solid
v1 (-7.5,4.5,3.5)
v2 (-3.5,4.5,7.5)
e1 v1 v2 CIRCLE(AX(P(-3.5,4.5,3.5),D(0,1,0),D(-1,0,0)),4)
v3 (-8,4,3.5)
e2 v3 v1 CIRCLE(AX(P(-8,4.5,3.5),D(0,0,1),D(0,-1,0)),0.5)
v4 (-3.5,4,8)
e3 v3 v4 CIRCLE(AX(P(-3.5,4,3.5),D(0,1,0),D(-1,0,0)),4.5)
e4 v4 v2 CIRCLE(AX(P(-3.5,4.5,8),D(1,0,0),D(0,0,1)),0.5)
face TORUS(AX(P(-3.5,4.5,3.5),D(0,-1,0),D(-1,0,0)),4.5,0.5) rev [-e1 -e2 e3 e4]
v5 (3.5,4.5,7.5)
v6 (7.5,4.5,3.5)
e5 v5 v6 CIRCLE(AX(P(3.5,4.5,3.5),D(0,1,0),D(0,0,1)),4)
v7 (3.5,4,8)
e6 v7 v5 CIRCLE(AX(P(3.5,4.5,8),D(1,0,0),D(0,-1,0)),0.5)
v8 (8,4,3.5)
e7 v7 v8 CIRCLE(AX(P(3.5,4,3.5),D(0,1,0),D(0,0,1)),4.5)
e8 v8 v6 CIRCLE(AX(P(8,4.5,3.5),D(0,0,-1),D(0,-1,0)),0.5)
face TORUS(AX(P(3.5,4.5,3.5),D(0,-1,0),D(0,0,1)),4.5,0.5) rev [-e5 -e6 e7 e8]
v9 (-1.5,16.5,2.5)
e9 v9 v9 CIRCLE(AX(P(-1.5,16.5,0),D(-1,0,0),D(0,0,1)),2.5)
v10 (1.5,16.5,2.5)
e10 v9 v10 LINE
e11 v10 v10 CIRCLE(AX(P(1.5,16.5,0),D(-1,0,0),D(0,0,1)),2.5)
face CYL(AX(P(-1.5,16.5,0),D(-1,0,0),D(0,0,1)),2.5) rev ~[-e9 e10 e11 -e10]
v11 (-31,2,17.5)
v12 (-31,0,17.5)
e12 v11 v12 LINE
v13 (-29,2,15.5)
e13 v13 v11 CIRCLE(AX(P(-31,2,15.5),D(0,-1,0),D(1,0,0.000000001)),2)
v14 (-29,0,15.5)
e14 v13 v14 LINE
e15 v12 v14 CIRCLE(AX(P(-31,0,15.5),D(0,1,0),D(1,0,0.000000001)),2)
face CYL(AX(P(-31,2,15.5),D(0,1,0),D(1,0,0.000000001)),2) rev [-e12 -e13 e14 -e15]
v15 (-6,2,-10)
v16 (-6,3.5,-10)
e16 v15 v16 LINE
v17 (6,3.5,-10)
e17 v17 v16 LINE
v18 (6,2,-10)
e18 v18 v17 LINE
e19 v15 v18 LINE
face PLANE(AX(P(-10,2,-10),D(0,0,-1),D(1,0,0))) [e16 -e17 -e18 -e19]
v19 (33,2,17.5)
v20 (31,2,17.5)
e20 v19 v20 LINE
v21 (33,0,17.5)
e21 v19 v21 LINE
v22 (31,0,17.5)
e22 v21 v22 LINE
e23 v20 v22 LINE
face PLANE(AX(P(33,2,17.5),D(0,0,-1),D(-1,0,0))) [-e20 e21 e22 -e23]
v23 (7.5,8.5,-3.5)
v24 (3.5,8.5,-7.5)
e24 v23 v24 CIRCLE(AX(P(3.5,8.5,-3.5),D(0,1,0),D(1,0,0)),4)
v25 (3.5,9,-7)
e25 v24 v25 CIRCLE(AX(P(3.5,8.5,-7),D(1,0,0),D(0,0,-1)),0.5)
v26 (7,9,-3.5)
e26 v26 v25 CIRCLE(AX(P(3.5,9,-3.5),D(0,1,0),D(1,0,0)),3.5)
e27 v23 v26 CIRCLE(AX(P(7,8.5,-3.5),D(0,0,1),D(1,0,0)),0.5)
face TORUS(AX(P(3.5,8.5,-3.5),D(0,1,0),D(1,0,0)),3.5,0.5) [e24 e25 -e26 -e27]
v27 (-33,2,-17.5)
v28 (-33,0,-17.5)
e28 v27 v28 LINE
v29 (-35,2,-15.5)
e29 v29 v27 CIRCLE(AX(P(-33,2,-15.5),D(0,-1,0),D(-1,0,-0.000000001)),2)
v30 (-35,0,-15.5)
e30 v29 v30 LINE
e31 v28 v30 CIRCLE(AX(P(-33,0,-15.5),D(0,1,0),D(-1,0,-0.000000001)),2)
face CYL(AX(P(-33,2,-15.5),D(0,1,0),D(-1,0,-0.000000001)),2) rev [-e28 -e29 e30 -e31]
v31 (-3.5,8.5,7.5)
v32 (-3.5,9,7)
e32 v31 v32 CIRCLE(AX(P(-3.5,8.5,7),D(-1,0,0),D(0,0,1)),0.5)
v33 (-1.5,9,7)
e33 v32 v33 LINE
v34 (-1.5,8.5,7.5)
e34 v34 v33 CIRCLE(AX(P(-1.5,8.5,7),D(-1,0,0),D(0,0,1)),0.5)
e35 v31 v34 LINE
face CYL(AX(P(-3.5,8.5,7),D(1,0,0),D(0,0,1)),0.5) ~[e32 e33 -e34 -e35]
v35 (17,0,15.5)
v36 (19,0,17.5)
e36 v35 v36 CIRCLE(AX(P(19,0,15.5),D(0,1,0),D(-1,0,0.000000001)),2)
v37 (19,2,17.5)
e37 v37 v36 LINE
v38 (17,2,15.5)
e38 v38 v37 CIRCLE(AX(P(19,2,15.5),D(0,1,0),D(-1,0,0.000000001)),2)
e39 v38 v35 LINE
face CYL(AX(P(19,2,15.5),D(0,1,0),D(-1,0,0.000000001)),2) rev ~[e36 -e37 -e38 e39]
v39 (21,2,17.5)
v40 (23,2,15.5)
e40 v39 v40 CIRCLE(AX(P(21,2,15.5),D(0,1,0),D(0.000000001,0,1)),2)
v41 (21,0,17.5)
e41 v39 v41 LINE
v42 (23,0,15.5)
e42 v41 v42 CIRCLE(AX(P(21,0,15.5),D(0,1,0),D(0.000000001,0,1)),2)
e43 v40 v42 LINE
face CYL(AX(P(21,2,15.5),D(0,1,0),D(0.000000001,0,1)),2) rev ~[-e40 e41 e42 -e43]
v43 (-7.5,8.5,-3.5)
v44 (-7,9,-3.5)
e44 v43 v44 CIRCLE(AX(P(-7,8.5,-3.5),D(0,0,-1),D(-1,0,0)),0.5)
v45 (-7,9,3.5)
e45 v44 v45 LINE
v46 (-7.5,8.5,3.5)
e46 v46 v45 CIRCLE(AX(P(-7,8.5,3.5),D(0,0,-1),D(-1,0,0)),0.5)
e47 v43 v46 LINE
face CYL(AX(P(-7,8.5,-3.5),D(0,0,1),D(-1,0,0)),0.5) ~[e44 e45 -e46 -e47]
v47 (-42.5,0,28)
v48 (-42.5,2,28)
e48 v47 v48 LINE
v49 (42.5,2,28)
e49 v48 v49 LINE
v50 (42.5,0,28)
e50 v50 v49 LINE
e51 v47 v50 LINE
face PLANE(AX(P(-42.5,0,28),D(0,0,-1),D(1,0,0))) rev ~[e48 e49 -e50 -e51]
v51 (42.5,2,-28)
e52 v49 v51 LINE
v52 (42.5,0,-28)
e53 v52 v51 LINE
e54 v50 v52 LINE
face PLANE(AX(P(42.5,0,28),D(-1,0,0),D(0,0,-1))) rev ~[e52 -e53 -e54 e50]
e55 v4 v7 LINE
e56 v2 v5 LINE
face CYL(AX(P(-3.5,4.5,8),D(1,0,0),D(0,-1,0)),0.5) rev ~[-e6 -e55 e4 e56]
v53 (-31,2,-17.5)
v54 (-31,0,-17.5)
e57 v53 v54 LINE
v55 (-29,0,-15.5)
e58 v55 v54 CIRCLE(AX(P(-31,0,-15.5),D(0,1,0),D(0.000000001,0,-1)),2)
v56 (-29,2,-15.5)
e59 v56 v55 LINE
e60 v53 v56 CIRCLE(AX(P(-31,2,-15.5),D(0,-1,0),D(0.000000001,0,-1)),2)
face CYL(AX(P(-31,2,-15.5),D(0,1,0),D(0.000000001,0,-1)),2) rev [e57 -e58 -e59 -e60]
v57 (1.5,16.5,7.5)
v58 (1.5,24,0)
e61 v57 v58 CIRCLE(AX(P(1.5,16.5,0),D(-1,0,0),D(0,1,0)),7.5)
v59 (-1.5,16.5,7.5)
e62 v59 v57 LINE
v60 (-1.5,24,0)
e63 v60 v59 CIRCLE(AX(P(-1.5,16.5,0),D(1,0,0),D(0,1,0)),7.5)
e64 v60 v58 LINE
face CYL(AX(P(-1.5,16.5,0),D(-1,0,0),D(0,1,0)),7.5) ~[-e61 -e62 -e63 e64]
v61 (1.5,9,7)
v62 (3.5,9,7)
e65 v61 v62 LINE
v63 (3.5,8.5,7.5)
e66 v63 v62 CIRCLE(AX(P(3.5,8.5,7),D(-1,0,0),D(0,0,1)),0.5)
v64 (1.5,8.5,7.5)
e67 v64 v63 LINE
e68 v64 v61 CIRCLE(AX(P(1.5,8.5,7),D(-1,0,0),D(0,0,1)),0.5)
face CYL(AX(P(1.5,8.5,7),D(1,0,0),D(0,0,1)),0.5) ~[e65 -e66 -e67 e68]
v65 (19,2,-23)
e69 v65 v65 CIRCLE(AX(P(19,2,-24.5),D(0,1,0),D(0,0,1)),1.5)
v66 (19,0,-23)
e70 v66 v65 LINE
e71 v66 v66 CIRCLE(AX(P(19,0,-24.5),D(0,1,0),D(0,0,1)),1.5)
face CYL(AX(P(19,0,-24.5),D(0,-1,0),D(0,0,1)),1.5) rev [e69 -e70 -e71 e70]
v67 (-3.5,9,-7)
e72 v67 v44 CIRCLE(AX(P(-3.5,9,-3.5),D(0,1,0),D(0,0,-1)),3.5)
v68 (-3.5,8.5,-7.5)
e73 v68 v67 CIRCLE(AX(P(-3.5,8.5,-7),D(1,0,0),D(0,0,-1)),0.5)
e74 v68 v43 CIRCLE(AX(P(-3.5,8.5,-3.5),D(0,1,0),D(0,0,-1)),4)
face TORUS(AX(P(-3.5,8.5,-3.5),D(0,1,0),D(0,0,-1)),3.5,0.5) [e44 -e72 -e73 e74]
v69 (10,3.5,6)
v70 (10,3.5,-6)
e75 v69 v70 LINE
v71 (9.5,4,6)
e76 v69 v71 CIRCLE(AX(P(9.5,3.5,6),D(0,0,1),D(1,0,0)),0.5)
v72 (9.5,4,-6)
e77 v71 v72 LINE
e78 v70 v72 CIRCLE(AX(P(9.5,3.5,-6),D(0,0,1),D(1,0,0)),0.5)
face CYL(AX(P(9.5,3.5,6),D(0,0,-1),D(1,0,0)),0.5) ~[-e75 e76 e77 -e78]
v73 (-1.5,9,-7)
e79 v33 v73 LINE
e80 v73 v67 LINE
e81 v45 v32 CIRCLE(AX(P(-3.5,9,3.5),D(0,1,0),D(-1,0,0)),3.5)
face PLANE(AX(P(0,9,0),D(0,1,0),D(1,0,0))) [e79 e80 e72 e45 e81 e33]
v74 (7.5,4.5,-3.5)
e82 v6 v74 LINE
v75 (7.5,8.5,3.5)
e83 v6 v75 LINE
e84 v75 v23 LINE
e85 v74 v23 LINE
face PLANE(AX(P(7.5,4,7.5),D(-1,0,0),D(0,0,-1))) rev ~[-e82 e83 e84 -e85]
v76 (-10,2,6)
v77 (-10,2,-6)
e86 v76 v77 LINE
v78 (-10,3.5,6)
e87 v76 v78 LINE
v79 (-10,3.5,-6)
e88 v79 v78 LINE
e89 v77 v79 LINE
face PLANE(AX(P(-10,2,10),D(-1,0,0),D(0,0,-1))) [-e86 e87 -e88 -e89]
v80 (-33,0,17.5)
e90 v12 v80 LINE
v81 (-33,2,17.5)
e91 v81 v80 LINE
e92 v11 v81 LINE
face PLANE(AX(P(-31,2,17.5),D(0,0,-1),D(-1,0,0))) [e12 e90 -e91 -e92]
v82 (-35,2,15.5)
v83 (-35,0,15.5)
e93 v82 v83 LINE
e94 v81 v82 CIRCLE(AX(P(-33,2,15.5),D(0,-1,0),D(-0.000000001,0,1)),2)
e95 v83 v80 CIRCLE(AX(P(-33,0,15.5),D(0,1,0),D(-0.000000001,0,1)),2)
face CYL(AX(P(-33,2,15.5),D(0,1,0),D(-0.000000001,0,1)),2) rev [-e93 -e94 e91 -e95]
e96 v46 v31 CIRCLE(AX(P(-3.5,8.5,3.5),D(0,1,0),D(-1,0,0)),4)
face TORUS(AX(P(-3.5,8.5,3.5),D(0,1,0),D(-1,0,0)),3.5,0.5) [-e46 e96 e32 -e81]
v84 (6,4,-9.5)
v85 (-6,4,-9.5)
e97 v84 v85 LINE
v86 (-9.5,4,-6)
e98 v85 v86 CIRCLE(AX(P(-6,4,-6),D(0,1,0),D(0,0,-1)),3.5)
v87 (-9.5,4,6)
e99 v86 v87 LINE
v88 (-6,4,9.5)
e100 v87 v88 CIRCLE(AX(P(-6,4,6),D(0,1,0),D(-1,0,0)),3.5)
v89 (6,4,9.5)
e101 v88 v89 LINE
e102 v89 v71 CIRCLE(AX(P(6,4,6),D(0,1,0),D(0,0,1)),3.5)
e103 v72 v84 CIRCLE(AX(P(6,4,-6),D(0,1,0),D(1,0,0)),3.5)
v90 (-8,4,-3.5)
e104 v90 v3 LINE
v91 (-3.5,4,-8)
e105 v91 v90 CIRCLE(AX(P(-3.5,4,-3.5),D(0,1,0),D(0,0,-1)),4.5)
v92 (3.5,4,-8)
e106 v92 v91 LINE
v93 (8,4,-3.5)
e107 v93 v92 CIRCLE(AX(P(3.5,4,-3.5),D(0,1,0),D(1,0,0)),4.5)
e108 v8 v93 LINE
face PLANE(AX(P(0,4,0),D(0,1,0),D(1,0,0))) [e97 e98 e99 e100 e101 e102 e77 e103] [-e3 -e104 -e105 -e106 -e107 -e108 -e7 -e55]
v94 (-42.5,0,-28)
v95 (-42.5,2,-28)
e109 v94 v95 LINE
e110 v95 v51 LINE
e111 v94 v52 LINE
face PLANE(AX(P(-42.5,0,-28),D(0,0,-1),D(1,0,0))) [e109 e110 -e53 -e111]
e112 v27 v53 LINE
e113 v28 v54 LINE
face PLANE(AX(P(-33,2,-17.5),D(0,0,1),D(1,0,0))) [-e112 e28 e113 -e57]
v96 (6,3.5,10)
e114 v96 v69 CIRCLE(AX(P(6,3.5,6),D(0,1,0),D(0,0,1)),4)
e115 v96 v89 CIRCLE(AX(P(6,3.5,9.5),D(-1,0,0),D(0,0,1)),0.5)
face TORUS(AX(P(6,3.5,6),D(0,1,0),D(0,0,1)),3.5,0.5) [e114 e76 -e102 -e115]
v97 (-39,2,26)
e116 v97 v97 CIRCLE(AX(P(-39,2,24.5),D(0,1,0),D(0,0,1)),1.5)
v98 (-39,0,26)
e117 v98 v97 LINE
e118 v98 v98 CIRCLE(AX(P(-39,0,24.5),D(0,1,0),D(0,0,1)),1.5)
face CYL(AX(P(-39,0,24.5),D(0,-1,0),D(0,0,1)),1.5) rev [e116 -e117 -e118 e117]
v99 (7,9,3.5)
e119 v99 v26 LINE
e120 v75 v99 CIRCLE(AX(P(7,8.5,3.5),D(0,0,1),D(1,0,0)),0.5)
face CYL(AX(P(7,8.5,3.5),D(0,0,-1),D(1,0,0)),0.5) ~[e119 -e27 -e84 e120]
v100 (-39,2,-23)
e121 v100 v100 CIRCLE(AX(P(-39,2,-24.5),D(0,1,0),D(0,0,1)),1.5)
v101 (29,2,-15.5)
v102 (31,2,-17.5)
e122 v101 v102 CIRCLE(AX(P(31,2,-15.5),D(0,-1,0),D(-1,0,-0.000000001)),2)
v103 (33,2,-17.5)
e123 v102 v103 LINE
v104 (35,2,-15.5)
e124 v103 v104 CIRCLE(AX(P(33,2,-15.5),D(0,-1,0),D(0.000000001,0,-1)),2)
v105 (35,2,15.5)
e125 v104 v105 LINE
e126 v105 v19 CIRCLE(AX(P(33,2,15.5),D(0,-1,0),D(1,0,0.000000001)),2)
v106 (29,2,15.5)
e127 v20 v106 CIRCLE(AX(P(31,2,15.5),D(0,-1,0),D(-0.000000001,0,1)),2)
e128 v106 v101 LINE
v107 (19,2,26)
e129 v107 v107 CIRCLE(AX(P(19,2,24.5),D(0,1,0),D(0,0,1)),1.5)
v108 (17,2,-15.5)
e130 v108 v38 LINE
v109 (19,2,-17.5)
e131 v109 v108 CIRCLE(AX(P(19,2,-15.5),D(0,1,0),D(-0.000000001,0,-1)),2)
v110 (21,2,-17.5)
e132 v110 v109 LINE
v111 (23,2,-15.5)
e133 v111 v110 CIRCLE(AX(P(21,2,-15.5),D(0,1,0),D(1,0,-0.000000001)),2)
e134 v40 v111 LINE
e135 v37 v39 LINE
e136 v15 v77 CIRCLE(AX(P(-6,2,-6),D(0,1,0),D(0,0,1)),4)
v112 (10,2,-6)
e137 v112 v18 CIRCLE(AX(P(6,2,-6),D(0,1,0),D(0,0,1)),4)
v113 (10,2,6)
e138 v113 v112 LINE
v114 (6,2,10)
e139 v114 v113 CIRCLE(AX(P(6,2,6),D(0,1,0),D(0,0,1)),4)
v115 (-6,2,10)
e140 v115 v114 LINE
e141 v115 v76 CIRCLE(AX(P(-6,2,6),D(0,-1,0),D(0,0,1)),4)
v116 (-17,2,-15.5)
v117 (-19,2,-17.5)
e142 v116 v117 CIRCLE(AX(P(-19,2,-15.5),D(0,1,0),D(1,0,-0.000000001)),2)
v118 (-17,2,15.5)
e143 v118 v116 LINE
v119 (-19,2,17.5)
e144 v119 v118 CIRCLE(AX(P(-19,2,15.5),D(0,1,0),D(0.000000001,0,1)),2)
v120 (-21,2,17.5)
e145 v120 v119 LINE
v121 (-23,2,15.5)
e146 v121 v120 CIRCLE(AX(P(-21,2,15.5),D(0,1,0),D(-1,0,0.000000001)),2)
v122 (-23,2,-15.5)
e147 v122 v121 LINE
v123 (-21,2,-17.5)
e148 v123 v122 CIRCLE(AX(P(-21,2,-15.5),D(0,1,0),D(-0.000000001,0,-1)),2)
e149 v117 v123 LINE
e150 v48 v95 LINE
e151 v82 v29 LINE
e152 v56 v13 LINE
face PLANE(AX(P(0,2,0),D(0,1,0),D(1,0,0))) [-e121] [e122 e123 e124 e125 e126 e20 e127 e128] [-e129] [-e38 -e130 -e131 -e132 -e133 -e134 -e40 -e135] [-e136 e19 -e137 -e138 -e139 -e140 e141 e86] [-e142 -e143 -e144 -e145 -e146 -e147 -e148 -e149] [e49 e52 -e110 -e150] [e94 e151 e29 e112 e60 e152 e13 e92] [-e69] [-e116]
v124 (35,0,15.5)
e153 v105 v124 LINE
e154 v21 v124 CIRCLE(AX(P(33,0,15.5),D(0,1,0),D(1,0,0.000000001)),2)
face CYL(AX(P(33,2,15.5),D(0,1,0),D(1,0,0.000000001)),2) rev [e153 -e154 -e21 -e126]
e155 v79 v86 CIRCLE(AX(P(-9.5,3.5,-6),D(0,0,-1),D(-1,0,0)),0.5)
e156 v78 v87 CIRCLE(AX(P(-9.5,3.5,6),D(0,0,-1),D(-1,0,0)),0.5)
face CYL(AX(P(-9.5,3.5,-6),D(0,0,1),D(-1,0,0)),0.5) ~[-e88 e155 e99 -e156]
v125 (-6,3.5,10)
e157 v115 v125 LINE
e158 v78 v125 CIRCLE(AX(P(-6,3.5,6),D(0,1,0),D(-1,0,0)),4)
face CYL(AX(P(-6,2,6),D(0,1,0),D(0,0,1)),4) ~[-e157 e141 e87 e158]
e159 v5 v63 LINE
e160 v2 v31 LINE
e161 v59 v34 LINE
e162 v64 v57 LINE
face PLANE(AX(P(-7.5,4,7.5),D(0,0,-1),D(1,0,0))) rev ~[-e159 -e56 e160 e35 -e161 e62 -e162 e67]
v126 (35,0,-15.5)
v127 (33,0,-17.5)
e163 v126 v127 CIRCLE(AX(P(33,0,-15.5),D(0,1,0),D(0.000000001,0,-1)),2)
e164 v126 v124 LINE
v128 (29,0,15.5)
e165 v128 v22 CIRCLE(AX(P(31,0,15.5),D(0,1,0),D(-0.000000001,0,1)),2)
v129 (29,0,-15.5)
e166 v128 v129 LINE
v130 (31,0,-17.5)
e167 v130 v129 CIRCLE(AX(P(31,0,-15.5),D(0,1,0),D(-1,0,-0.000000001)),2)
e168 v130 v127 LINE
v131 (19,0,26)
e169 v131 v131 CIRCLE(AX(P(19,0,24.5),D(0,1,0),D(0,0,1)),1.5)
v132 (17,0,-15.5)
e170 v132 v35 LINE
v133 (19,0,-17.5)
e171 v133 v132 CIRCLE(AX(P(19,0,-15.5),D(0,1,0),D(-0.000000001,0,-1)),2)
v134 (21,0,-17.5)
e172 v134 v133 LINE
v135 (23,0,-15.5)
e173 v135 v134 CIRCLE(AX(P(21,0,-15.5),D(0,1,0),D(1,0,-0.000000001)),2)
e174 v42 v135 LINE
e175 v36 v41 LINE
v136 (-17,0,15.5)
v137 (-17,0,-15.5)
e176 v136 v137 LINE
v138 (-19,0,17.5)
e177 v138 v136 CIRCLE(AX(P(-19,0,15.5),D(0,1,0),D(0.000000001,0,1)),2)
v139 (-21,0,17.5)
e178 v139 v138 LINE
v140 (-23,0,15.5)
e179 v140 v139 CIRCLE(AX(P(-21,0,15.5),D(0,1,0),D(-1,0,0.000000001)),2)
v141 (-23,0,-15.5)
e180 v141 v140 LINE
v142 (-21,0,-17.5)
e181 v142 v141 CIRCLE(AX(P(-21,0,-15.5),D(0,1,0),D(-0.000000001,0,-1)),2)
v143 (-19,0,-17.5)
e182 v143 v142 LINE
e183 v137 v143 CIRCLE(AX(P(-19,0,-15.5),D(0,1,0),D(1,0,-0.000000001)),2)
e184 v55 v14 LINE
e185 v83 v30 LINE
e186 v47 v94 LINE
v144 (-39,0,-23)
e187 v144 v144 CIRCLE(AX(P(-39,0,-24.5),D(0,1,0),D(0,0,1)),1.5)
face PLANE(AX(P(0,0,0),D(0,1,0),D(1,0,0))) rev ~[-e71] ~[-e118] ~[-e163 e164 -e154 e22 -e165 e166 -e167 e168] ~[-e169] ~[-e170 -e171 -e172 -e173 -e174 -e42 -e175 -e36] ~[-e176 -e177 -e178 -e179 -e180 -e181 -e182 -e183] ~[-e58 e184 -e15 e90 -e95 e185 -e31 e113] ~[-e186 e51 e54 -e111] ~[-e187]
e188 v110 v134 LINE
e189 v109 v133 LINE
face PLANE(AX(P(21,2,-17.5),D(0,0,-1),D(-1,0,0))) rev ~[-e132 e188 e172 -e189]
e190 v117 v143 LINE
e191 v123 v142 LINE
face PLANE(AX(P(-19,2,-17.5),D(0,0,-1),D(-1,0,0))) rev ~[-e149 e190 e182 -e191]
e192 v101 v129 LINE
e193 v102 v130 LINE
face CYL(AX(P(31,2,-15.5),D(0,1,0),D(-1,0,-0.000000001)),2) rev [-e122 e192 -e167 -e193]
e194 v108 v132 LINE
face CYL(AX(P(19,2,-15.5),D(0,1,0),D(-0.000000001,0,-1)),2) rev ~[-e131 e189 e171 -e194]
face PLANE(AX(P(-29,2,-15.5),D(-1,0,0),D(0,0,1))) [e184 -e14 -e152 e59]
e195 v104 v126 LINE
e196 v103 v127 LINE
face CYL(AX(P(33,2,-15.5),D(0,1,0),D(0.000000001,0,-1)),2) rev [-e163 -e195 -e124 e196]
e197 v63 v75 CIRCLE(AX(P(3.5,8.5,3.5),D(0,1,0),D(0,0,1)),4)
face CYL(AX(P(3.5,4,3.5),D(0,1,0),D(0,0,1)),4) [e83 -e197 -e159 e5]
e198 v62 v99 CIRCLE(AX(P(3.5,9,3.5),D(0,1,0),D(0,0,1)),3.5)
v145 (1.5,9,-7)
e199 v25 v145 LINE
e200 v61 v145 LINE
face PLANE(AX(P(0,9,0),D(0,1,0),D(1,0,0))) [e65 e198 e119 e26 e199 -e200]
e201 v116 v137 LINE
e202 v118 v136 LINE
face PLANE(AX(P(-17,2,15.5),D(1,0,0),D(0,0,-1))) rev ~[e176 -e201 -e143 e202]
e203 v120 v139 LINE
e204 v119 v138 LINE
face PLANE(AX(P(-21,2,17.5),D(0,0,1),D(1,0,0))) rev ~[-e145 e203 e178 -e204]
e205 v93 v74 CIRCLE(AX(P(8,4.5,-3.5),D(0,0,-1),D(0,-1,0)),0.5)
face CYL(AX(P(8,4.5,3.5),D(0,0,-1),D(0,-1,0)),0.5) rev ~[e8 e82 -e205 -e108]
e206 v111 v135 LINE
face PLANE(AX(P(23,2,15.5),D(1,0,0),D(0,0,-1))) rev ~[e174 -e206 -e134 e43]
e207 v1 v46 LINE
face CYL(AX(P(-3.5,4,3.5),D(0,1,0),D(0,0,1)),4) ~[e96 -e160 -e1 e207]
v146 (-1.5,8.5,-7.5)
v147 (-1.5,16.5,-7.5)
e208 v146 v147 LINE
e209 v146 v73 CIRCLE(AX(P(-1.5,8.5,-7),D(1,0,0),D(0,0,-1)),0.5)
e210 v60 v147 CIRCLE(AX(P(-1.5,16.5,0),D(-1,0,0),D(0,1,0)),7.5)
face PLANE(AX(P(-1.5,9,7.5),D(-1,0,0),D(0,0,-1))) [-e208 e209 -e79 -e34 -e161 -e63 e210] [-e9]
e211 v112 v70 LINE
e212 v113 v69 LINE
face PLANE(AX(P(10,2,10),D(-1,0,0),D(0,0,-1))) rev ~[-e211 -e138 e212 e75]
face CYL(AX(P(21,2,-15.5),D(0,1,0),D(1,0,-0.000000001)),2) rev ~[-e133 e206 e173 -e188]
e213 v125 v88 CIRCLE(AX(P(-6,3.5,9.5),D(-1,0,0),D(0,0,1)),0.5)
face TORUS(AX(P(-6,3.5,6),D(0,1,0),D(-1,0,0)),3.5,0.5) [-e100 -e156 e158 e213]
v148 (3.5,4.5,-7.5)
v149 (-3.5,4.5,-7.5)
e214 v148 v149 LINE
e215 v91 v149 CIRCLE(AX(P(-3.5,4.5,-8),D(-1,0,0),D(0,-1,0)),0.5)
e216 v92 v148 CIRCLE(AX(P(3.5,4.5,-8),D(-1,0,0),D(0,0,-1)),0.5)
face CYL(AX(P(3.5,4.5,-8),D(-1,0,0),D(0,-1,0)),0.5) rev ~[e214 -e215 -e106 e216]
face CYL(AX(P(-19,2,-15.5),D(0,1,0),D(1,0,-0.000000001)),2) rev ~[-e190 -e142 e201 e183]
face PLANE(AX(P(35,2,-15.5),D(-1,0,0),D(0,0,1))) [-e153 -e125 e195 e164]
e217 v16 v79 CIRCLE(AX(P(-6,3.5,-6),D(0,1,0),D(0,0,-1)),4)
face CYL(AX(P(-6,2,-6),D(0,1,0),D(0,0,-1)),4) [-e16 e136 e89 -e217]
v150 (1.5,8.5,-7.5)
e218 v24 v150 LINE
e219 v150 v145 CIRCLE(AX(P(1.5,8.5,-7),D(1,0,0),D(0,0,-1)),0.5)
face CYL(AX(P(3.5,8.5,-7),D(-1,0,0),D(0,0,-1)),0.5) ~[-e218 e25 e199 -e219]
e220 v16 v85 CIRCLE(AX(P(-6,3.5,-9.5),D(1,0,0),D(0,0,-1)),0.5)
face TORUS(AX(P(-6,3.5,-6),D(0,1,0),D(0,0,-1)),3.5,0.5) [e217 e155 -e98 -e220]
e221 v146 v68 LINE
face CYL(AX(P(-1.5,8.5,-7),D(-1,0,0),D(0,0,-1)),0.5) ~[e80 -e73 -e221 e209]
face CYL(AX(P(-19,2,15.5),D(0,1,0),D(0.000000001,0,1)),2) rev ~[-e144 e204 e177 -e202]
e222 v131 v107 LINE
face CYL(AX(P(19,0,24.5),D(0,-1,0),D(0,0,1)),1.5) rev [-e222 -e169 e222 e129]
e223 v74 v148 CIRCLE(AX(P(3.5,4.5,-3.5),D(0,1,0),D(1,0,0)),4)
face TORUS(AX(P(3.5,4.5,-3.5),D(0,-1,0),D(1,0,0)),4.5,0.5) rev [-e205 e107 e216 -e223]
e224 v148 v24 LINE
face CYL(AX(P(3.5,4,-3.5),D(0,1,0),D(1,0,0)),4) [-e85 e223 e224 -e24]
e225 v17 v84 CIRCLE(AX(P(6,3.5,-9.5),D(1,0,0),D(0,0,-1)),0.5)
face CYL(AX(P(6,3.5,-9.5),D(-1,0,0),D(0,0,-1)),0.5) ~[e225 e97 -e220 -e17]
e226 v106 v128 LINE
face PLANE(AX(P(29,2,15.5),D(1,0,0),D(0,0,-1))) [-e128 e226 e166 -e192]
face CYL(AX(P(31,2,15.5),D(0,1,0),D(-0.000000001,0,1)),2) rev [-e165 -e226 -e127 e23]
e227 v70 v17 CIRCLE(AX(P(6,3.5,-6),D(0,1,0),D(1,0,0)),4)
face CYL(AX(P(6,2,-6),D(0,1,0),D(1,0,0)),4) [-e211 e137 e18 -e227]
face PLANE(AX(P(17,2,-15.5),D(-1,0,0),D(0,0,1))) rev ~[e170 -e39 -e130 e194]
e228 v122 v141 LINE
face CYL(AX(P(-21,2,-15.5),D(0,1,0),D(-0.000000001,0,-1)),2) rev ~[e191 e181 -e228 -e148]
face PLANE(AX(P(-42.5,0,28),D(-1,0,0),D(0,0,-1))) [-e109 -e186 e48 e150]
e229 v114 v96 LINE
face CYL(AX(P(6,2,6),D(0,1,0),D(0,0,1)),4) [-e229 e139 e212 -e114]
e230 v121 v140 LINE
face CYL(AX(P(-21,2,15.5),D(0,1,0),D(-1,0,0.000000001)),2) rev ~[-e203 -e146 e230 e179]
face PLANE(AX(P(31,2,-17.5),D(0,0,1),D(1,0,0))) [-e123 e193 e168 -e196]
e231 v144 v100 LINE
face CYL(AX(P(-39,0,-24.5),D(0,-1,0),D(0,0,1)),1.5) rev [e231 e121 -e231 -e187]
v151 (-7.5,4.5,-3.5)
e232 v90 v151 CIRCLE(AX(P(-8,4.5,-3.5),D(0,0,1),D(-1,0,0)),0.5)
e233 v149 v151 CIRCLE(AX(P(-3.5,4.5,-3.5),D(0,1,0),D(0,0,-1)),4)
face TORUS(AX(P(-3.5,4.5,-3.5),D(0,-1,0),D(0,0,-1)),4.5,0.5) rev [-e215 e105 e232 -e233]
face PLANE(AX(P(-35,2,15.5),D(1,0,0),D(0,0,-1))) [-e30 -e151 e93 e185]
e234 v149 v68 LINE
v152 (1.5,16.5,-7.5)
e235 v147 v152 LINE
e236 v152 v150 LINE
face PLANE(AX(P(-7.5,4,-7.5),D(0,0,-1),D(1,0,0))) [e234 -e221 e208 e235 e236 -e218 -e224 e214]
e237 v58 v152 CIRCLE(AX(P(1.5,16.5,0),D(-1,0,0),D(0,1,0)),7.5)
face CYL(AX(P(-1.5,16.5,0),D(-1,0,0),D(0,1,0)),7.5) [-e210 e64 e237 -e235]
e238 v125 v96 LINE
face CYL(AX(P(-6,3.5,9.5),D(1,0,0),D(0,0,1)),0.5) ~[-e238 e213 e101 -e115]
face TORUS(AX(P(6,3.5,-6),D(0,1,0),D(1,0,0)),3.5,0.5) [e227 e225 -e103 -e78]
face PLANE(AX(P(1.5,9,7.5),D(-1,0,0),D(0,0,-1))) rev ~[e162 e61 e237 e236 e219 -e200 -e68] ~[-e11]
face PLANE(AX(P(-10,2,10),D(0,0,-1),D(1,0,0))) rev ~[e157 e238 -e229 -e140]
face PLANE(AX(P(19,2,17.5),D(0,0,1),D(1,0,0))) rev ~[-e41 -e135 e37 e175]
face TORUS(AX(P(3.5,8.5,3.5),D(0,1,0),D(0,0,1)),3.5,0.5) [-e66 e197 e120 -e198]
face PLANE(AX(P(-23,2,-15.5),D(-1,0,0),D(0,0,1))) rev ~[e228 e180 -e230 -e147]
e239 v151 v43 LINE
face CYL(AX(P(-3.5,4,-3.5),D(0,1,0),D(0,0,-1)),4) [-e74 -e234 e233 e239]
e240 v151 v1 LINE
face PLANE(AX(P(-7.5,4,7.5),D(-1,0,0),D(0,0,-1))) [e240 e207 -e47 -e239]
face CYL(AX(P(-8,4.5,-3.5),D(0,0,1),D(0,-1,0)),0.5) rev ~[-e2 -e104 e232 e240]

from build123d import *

# Parameters (mm, degrees)
SKETCH1_W           = 85
SKETCH1_H           = 56
BOSS_EXTRUDE1_DEPTH = 2
SKETCH2_R           = 1.5
CUT_EXTRUDE2_DEPTH  = 2
SKETCH3_W           = 20
SKETCH3_H           = 20
BOSS_EXTRUDE2_DEPTH = 2
SKETCH4_W           = 15
SKETCH4_H           = 15
BOSS_EXTRUDE3_DEPTH = 5
SKETCH5_W           = 3
SKETCH5_H           = 15
BOSS_EXTRUDE4_DEPTH = 15
CUT_EXTRUDE3_DEPTH  = 15
CUT_EXTRUDE4_DEPTH  = 15
SKETCH9_R           = 2.5
CUT_EXTRUDE5_DEPTH  = 15
FILLET1_R           = 4
FILLET2_R           = 0.5
FILLET3_R           = 0.5
CUT_EXTRUDE6_DEPTH  = 15


with BuildPart() as part:
    # Sketch1 → Boss-Extrude1 (new body)
    with BuildSketch(Plane(origin=(0, 0, 0), x_dir=(1, 0, 0), z_dir=(0, 1, 0))):
        Rectangle(SKETCH1_W, SKETCH1_H)
    extrude(amount=BOSS_EXTRUDE1_DEPTH)

    # Sketch2 → Cut-Extrude2 (cut)
    with BuildSketch(Plane(origin=(0, 0, 0), x_dir=(1, 0, 0), z_dir=(0, 1, 0))):
        with Locations(Location((-39, -24.5, 0), (0, 0, 270))):
            Circle(SKETCH2_R)
        with Locations(Location((-39, 24.5, 0), (0, 0, 270))):
            Circle(SKETCH2_R)
        with Locations(Location((19, 24.5, 0), (0, 0, 270))):
            Circle(SKETCH2_R)
        with Locations(Location((19, -24.5, 0), (0, 0, 270))):
            Circle(SKETCH2_R)
    extrude(amount=CUT_EXTRUDE2_DEPTH, mode=Mode.SUBTRACT)

    # Sketch3 → Boss-Extrude2 (add)
    with BuildSketch(Plane(origin=(0, 2, 0), x_dir=(1, 0, 0), z_dir=(0, 1, 0))):
        Rectangle(SKETCH3_W, SKETCH3_H)
    extrude(amount=BOSS_EXTRUDE2_DEPTH)

    # Sketch4 → Boss-Extrude3 (add)
    with BuildSketch(Plane(origin=(0, 4, 0), x_dir=(1, 0, 0), z_dir=(0, 1, 0))):
        Rectangle(SKETCH4_W, SKETCH4_H)
    extrude(amount=BOSS_EXTRUDE3_DEPTH)

    # Sketch5 → Boss-Extrude4 (add)
    with BuildSketch(Plane(origin=(0, 9, 0), x_dir=(1, 0, 0), z_dir=(0, 1, 0))):
        Rectangle(SKETCH5_W, SKETCH5_H)
    extrude(amount=BOSS_EXTRUDE4_DEPTH)

    # Sketch7 → Cut-Extrude3 (cut)
    with BuildSketch(Plane.ZY.offset(1.5)):
        with BuildLine():
            Line((-7.5, 16.5), (-7.5, 24))
            Line((-7.5, 24), (0, 24))
            ThreePointArc((0, 24), (-5.303300859, 21.803300859), (-7.5, 16.5))
        make_face()
    extrude(amount=-CUT_EXTRUDE3_DEPTH, mode=Mode.SUBTRACT)

    # Sketch8 → Cut-Extrude4 (cut)
    with BuildSketch(Plane.ZY.offset(1.5)):
        with BuildLine():
            Line((7.5, 16.5), (7.5, 24))
            Line((7.5, 24), (0, 24))
            ThreePointArc((0, 24), (5.303300859, 21.803300859), (7.5, 16.5))
        make_face()
    extrude(amount=-CUT_EXTRUDE4_DEPTH, mode=Mode.SUBTRACT)

    # Sketch9 → Cut-Extrude5 (cut)
    with BuildSketch(Plane.ZY.offset(1.5)):
        with Locations((0, 16.5)):
            Circle(SKETCH9_R)
    extrude(amount=-CUT_EXTRUDE5_DEPTH, mode=Mode.SUBTRACT)

    # Fillet1
    fillet1_edges = [part.edges().sort_by_distance(p)[0] for p in [
        (10, 3, 10),
        (10, 3, -10),
        (-10, 3, -10),
        (-10, 3, 10),
        (7.5, 6.5, 7.5),
        (7.5, 6.5, -7.5),
        (-7.5, 6.5, -7.5),
        (-7.5, 6.5, 7.5),
    ]]
    fillet(fillet1_edges, radius=FILLET1_R)

    # Fillet2
    fillet2_edges = [part.edges().sort_by_distance(p)[0] for p in [
        (7.5, 4, 0),
        (0, 4, 7.5),
        (-7.5, 4, 0),
        (0, 4, -7.5),
        (10, 4, 0),
        (0, 4, 10),
        (0, 4, -10),
        (-10, 4, 0),
        (8.828427125, 4, -8.828427125),
        (-8.828427125, 4, -8.828427125),
        (-8.828427125, 4, 8.828427125),
        (8.828427125, 4, 8.828427125),
        (6.328427125, 4, 6.328427125),
        (-6.328427125, 4, 6.328427125),
        (-6.328427125, 4, -6.328427125),
        (6.328427125, 4, -6.328427125),
    ]]
    fillet(fillet2_edges, radius=FILLET2_R)

    # Fillet3
    fillet3_edges = [part.edges().sort_by_distance(p)[0] for p in [
        (7.5, 9, 0),
        (-2.5, 9, 7.5),
        (2.5, 9, -7.5),
        (6.328427125, 9, -6.328427125),
        (6.328427125, 9, 6.328427125),
        (-7.5, 9, 0),
        (-6.328427125, 9, -6.328427125),
        (-6.328427125, 9, 6.328427125),
        (-2.5, 9, -7.5),
        (2.5, 9, 7.5),
    ]]
    fillet(fillet3_edges, radius=FILLET3_R)

    # Sketch10 → Cut-Extrude6 (cut)
    with BuildSketch(Plane(origin=(0, 2, 0), x_dir=(1, 0, 0), z_dir=(0, 1, 0))):
        with BuildLine():
            Line((-21, -17.5), (-19, -17.5))
            ThreePointArc((-19, -17.5), (-17.585786438, -16.914213562), (-17, -15.5))
            Line((-17, -15.5), (-17, 15.5))
            ThreePointArc((-17, 15.5), (-17.585786438, 16.914213562), (-19, 17.5))
            Line((-19, 17.5), (-21, 17.5))
            ThreePointArc((-21, 17.5), (-22.414213562, 16.914213562), (-23, 15.5))
            Line((-23, 15.5), (-23, -15.5))
            ThreePointArc((-23, -15.5), (-22.414213562, -16.914213562), (-21, -17.5))
        make_face()
        with BuildLine():
            Line((-35, -15.5), (-35, 15.5))
            ThreePointArc((-35, 15.5), (-34.414213562, 16.914213562), (-33, 17.5))
            Line((-33, 17.5), (-31, 17.5))
            ThreePointArc((-31, 17.5), (-29.585786438, 16.914213562), (-29, 15.5))
            Line((-29, 15.5), (-29, -15.5))
            ThreePointArc((-29, -15.5), (-29.585786438, -16.914213562), (-31, -17.5))
            Line((-31, -17.5), (-33, -17.5))
            ThreePointArc((-33, -17.5), (-34.414213562, -16.914213562), (-35, -15.5))
        make_face()
        with BuildLine():
            Line((33, -17.5), (31, -17.5))
            ThreePointArc((31, -17.5), (29.585786438, -16.914213562), (29, -15.5))
            Line((29, -15.5), (29, 15.5))
            ThreePointArc((29, 15.5), (29.585786438, 16.914213562), (31, 17.5))
            Line((31, 17.5), (33, 17.5))
            ThreePointArc((33, 17.5), (34.414213562, 16.914213562), (35, 15.5))
            Line((35, 15.5), (35, -15.5))
            ThreePointArc((35, -15.5), (34.414213562, -16.914213562), (33, -17.5))
        make_face()
        with BuildLine():
            Line((21, 17.5), (19, 17.5))
            ThreePointArc((19, 17.5), (17.585786438, 16.914213562), (17, 15.5))
            Line((17, 15.5), (17, -15.5))
            ThreePointArc((17, -15.5), (17.585786438, -16.914213562), (19, -17.5))
            Line((19, -17.5), (21, -17.5))
            ThreePointArc((21, -17.5), (22.414213562, -16.914213562), (23, -15.5))
            Line((23, -15.5), (23, 15.5))
            ThreePointArc((23, 15.5), (22.414213562, 16.914213562), (21, 17.5))
        make_face()
    extrude(amount=-CUT_EXTRUDE6_DEPTH, mode=Mode.SUBTRACT)


solid = part.part
